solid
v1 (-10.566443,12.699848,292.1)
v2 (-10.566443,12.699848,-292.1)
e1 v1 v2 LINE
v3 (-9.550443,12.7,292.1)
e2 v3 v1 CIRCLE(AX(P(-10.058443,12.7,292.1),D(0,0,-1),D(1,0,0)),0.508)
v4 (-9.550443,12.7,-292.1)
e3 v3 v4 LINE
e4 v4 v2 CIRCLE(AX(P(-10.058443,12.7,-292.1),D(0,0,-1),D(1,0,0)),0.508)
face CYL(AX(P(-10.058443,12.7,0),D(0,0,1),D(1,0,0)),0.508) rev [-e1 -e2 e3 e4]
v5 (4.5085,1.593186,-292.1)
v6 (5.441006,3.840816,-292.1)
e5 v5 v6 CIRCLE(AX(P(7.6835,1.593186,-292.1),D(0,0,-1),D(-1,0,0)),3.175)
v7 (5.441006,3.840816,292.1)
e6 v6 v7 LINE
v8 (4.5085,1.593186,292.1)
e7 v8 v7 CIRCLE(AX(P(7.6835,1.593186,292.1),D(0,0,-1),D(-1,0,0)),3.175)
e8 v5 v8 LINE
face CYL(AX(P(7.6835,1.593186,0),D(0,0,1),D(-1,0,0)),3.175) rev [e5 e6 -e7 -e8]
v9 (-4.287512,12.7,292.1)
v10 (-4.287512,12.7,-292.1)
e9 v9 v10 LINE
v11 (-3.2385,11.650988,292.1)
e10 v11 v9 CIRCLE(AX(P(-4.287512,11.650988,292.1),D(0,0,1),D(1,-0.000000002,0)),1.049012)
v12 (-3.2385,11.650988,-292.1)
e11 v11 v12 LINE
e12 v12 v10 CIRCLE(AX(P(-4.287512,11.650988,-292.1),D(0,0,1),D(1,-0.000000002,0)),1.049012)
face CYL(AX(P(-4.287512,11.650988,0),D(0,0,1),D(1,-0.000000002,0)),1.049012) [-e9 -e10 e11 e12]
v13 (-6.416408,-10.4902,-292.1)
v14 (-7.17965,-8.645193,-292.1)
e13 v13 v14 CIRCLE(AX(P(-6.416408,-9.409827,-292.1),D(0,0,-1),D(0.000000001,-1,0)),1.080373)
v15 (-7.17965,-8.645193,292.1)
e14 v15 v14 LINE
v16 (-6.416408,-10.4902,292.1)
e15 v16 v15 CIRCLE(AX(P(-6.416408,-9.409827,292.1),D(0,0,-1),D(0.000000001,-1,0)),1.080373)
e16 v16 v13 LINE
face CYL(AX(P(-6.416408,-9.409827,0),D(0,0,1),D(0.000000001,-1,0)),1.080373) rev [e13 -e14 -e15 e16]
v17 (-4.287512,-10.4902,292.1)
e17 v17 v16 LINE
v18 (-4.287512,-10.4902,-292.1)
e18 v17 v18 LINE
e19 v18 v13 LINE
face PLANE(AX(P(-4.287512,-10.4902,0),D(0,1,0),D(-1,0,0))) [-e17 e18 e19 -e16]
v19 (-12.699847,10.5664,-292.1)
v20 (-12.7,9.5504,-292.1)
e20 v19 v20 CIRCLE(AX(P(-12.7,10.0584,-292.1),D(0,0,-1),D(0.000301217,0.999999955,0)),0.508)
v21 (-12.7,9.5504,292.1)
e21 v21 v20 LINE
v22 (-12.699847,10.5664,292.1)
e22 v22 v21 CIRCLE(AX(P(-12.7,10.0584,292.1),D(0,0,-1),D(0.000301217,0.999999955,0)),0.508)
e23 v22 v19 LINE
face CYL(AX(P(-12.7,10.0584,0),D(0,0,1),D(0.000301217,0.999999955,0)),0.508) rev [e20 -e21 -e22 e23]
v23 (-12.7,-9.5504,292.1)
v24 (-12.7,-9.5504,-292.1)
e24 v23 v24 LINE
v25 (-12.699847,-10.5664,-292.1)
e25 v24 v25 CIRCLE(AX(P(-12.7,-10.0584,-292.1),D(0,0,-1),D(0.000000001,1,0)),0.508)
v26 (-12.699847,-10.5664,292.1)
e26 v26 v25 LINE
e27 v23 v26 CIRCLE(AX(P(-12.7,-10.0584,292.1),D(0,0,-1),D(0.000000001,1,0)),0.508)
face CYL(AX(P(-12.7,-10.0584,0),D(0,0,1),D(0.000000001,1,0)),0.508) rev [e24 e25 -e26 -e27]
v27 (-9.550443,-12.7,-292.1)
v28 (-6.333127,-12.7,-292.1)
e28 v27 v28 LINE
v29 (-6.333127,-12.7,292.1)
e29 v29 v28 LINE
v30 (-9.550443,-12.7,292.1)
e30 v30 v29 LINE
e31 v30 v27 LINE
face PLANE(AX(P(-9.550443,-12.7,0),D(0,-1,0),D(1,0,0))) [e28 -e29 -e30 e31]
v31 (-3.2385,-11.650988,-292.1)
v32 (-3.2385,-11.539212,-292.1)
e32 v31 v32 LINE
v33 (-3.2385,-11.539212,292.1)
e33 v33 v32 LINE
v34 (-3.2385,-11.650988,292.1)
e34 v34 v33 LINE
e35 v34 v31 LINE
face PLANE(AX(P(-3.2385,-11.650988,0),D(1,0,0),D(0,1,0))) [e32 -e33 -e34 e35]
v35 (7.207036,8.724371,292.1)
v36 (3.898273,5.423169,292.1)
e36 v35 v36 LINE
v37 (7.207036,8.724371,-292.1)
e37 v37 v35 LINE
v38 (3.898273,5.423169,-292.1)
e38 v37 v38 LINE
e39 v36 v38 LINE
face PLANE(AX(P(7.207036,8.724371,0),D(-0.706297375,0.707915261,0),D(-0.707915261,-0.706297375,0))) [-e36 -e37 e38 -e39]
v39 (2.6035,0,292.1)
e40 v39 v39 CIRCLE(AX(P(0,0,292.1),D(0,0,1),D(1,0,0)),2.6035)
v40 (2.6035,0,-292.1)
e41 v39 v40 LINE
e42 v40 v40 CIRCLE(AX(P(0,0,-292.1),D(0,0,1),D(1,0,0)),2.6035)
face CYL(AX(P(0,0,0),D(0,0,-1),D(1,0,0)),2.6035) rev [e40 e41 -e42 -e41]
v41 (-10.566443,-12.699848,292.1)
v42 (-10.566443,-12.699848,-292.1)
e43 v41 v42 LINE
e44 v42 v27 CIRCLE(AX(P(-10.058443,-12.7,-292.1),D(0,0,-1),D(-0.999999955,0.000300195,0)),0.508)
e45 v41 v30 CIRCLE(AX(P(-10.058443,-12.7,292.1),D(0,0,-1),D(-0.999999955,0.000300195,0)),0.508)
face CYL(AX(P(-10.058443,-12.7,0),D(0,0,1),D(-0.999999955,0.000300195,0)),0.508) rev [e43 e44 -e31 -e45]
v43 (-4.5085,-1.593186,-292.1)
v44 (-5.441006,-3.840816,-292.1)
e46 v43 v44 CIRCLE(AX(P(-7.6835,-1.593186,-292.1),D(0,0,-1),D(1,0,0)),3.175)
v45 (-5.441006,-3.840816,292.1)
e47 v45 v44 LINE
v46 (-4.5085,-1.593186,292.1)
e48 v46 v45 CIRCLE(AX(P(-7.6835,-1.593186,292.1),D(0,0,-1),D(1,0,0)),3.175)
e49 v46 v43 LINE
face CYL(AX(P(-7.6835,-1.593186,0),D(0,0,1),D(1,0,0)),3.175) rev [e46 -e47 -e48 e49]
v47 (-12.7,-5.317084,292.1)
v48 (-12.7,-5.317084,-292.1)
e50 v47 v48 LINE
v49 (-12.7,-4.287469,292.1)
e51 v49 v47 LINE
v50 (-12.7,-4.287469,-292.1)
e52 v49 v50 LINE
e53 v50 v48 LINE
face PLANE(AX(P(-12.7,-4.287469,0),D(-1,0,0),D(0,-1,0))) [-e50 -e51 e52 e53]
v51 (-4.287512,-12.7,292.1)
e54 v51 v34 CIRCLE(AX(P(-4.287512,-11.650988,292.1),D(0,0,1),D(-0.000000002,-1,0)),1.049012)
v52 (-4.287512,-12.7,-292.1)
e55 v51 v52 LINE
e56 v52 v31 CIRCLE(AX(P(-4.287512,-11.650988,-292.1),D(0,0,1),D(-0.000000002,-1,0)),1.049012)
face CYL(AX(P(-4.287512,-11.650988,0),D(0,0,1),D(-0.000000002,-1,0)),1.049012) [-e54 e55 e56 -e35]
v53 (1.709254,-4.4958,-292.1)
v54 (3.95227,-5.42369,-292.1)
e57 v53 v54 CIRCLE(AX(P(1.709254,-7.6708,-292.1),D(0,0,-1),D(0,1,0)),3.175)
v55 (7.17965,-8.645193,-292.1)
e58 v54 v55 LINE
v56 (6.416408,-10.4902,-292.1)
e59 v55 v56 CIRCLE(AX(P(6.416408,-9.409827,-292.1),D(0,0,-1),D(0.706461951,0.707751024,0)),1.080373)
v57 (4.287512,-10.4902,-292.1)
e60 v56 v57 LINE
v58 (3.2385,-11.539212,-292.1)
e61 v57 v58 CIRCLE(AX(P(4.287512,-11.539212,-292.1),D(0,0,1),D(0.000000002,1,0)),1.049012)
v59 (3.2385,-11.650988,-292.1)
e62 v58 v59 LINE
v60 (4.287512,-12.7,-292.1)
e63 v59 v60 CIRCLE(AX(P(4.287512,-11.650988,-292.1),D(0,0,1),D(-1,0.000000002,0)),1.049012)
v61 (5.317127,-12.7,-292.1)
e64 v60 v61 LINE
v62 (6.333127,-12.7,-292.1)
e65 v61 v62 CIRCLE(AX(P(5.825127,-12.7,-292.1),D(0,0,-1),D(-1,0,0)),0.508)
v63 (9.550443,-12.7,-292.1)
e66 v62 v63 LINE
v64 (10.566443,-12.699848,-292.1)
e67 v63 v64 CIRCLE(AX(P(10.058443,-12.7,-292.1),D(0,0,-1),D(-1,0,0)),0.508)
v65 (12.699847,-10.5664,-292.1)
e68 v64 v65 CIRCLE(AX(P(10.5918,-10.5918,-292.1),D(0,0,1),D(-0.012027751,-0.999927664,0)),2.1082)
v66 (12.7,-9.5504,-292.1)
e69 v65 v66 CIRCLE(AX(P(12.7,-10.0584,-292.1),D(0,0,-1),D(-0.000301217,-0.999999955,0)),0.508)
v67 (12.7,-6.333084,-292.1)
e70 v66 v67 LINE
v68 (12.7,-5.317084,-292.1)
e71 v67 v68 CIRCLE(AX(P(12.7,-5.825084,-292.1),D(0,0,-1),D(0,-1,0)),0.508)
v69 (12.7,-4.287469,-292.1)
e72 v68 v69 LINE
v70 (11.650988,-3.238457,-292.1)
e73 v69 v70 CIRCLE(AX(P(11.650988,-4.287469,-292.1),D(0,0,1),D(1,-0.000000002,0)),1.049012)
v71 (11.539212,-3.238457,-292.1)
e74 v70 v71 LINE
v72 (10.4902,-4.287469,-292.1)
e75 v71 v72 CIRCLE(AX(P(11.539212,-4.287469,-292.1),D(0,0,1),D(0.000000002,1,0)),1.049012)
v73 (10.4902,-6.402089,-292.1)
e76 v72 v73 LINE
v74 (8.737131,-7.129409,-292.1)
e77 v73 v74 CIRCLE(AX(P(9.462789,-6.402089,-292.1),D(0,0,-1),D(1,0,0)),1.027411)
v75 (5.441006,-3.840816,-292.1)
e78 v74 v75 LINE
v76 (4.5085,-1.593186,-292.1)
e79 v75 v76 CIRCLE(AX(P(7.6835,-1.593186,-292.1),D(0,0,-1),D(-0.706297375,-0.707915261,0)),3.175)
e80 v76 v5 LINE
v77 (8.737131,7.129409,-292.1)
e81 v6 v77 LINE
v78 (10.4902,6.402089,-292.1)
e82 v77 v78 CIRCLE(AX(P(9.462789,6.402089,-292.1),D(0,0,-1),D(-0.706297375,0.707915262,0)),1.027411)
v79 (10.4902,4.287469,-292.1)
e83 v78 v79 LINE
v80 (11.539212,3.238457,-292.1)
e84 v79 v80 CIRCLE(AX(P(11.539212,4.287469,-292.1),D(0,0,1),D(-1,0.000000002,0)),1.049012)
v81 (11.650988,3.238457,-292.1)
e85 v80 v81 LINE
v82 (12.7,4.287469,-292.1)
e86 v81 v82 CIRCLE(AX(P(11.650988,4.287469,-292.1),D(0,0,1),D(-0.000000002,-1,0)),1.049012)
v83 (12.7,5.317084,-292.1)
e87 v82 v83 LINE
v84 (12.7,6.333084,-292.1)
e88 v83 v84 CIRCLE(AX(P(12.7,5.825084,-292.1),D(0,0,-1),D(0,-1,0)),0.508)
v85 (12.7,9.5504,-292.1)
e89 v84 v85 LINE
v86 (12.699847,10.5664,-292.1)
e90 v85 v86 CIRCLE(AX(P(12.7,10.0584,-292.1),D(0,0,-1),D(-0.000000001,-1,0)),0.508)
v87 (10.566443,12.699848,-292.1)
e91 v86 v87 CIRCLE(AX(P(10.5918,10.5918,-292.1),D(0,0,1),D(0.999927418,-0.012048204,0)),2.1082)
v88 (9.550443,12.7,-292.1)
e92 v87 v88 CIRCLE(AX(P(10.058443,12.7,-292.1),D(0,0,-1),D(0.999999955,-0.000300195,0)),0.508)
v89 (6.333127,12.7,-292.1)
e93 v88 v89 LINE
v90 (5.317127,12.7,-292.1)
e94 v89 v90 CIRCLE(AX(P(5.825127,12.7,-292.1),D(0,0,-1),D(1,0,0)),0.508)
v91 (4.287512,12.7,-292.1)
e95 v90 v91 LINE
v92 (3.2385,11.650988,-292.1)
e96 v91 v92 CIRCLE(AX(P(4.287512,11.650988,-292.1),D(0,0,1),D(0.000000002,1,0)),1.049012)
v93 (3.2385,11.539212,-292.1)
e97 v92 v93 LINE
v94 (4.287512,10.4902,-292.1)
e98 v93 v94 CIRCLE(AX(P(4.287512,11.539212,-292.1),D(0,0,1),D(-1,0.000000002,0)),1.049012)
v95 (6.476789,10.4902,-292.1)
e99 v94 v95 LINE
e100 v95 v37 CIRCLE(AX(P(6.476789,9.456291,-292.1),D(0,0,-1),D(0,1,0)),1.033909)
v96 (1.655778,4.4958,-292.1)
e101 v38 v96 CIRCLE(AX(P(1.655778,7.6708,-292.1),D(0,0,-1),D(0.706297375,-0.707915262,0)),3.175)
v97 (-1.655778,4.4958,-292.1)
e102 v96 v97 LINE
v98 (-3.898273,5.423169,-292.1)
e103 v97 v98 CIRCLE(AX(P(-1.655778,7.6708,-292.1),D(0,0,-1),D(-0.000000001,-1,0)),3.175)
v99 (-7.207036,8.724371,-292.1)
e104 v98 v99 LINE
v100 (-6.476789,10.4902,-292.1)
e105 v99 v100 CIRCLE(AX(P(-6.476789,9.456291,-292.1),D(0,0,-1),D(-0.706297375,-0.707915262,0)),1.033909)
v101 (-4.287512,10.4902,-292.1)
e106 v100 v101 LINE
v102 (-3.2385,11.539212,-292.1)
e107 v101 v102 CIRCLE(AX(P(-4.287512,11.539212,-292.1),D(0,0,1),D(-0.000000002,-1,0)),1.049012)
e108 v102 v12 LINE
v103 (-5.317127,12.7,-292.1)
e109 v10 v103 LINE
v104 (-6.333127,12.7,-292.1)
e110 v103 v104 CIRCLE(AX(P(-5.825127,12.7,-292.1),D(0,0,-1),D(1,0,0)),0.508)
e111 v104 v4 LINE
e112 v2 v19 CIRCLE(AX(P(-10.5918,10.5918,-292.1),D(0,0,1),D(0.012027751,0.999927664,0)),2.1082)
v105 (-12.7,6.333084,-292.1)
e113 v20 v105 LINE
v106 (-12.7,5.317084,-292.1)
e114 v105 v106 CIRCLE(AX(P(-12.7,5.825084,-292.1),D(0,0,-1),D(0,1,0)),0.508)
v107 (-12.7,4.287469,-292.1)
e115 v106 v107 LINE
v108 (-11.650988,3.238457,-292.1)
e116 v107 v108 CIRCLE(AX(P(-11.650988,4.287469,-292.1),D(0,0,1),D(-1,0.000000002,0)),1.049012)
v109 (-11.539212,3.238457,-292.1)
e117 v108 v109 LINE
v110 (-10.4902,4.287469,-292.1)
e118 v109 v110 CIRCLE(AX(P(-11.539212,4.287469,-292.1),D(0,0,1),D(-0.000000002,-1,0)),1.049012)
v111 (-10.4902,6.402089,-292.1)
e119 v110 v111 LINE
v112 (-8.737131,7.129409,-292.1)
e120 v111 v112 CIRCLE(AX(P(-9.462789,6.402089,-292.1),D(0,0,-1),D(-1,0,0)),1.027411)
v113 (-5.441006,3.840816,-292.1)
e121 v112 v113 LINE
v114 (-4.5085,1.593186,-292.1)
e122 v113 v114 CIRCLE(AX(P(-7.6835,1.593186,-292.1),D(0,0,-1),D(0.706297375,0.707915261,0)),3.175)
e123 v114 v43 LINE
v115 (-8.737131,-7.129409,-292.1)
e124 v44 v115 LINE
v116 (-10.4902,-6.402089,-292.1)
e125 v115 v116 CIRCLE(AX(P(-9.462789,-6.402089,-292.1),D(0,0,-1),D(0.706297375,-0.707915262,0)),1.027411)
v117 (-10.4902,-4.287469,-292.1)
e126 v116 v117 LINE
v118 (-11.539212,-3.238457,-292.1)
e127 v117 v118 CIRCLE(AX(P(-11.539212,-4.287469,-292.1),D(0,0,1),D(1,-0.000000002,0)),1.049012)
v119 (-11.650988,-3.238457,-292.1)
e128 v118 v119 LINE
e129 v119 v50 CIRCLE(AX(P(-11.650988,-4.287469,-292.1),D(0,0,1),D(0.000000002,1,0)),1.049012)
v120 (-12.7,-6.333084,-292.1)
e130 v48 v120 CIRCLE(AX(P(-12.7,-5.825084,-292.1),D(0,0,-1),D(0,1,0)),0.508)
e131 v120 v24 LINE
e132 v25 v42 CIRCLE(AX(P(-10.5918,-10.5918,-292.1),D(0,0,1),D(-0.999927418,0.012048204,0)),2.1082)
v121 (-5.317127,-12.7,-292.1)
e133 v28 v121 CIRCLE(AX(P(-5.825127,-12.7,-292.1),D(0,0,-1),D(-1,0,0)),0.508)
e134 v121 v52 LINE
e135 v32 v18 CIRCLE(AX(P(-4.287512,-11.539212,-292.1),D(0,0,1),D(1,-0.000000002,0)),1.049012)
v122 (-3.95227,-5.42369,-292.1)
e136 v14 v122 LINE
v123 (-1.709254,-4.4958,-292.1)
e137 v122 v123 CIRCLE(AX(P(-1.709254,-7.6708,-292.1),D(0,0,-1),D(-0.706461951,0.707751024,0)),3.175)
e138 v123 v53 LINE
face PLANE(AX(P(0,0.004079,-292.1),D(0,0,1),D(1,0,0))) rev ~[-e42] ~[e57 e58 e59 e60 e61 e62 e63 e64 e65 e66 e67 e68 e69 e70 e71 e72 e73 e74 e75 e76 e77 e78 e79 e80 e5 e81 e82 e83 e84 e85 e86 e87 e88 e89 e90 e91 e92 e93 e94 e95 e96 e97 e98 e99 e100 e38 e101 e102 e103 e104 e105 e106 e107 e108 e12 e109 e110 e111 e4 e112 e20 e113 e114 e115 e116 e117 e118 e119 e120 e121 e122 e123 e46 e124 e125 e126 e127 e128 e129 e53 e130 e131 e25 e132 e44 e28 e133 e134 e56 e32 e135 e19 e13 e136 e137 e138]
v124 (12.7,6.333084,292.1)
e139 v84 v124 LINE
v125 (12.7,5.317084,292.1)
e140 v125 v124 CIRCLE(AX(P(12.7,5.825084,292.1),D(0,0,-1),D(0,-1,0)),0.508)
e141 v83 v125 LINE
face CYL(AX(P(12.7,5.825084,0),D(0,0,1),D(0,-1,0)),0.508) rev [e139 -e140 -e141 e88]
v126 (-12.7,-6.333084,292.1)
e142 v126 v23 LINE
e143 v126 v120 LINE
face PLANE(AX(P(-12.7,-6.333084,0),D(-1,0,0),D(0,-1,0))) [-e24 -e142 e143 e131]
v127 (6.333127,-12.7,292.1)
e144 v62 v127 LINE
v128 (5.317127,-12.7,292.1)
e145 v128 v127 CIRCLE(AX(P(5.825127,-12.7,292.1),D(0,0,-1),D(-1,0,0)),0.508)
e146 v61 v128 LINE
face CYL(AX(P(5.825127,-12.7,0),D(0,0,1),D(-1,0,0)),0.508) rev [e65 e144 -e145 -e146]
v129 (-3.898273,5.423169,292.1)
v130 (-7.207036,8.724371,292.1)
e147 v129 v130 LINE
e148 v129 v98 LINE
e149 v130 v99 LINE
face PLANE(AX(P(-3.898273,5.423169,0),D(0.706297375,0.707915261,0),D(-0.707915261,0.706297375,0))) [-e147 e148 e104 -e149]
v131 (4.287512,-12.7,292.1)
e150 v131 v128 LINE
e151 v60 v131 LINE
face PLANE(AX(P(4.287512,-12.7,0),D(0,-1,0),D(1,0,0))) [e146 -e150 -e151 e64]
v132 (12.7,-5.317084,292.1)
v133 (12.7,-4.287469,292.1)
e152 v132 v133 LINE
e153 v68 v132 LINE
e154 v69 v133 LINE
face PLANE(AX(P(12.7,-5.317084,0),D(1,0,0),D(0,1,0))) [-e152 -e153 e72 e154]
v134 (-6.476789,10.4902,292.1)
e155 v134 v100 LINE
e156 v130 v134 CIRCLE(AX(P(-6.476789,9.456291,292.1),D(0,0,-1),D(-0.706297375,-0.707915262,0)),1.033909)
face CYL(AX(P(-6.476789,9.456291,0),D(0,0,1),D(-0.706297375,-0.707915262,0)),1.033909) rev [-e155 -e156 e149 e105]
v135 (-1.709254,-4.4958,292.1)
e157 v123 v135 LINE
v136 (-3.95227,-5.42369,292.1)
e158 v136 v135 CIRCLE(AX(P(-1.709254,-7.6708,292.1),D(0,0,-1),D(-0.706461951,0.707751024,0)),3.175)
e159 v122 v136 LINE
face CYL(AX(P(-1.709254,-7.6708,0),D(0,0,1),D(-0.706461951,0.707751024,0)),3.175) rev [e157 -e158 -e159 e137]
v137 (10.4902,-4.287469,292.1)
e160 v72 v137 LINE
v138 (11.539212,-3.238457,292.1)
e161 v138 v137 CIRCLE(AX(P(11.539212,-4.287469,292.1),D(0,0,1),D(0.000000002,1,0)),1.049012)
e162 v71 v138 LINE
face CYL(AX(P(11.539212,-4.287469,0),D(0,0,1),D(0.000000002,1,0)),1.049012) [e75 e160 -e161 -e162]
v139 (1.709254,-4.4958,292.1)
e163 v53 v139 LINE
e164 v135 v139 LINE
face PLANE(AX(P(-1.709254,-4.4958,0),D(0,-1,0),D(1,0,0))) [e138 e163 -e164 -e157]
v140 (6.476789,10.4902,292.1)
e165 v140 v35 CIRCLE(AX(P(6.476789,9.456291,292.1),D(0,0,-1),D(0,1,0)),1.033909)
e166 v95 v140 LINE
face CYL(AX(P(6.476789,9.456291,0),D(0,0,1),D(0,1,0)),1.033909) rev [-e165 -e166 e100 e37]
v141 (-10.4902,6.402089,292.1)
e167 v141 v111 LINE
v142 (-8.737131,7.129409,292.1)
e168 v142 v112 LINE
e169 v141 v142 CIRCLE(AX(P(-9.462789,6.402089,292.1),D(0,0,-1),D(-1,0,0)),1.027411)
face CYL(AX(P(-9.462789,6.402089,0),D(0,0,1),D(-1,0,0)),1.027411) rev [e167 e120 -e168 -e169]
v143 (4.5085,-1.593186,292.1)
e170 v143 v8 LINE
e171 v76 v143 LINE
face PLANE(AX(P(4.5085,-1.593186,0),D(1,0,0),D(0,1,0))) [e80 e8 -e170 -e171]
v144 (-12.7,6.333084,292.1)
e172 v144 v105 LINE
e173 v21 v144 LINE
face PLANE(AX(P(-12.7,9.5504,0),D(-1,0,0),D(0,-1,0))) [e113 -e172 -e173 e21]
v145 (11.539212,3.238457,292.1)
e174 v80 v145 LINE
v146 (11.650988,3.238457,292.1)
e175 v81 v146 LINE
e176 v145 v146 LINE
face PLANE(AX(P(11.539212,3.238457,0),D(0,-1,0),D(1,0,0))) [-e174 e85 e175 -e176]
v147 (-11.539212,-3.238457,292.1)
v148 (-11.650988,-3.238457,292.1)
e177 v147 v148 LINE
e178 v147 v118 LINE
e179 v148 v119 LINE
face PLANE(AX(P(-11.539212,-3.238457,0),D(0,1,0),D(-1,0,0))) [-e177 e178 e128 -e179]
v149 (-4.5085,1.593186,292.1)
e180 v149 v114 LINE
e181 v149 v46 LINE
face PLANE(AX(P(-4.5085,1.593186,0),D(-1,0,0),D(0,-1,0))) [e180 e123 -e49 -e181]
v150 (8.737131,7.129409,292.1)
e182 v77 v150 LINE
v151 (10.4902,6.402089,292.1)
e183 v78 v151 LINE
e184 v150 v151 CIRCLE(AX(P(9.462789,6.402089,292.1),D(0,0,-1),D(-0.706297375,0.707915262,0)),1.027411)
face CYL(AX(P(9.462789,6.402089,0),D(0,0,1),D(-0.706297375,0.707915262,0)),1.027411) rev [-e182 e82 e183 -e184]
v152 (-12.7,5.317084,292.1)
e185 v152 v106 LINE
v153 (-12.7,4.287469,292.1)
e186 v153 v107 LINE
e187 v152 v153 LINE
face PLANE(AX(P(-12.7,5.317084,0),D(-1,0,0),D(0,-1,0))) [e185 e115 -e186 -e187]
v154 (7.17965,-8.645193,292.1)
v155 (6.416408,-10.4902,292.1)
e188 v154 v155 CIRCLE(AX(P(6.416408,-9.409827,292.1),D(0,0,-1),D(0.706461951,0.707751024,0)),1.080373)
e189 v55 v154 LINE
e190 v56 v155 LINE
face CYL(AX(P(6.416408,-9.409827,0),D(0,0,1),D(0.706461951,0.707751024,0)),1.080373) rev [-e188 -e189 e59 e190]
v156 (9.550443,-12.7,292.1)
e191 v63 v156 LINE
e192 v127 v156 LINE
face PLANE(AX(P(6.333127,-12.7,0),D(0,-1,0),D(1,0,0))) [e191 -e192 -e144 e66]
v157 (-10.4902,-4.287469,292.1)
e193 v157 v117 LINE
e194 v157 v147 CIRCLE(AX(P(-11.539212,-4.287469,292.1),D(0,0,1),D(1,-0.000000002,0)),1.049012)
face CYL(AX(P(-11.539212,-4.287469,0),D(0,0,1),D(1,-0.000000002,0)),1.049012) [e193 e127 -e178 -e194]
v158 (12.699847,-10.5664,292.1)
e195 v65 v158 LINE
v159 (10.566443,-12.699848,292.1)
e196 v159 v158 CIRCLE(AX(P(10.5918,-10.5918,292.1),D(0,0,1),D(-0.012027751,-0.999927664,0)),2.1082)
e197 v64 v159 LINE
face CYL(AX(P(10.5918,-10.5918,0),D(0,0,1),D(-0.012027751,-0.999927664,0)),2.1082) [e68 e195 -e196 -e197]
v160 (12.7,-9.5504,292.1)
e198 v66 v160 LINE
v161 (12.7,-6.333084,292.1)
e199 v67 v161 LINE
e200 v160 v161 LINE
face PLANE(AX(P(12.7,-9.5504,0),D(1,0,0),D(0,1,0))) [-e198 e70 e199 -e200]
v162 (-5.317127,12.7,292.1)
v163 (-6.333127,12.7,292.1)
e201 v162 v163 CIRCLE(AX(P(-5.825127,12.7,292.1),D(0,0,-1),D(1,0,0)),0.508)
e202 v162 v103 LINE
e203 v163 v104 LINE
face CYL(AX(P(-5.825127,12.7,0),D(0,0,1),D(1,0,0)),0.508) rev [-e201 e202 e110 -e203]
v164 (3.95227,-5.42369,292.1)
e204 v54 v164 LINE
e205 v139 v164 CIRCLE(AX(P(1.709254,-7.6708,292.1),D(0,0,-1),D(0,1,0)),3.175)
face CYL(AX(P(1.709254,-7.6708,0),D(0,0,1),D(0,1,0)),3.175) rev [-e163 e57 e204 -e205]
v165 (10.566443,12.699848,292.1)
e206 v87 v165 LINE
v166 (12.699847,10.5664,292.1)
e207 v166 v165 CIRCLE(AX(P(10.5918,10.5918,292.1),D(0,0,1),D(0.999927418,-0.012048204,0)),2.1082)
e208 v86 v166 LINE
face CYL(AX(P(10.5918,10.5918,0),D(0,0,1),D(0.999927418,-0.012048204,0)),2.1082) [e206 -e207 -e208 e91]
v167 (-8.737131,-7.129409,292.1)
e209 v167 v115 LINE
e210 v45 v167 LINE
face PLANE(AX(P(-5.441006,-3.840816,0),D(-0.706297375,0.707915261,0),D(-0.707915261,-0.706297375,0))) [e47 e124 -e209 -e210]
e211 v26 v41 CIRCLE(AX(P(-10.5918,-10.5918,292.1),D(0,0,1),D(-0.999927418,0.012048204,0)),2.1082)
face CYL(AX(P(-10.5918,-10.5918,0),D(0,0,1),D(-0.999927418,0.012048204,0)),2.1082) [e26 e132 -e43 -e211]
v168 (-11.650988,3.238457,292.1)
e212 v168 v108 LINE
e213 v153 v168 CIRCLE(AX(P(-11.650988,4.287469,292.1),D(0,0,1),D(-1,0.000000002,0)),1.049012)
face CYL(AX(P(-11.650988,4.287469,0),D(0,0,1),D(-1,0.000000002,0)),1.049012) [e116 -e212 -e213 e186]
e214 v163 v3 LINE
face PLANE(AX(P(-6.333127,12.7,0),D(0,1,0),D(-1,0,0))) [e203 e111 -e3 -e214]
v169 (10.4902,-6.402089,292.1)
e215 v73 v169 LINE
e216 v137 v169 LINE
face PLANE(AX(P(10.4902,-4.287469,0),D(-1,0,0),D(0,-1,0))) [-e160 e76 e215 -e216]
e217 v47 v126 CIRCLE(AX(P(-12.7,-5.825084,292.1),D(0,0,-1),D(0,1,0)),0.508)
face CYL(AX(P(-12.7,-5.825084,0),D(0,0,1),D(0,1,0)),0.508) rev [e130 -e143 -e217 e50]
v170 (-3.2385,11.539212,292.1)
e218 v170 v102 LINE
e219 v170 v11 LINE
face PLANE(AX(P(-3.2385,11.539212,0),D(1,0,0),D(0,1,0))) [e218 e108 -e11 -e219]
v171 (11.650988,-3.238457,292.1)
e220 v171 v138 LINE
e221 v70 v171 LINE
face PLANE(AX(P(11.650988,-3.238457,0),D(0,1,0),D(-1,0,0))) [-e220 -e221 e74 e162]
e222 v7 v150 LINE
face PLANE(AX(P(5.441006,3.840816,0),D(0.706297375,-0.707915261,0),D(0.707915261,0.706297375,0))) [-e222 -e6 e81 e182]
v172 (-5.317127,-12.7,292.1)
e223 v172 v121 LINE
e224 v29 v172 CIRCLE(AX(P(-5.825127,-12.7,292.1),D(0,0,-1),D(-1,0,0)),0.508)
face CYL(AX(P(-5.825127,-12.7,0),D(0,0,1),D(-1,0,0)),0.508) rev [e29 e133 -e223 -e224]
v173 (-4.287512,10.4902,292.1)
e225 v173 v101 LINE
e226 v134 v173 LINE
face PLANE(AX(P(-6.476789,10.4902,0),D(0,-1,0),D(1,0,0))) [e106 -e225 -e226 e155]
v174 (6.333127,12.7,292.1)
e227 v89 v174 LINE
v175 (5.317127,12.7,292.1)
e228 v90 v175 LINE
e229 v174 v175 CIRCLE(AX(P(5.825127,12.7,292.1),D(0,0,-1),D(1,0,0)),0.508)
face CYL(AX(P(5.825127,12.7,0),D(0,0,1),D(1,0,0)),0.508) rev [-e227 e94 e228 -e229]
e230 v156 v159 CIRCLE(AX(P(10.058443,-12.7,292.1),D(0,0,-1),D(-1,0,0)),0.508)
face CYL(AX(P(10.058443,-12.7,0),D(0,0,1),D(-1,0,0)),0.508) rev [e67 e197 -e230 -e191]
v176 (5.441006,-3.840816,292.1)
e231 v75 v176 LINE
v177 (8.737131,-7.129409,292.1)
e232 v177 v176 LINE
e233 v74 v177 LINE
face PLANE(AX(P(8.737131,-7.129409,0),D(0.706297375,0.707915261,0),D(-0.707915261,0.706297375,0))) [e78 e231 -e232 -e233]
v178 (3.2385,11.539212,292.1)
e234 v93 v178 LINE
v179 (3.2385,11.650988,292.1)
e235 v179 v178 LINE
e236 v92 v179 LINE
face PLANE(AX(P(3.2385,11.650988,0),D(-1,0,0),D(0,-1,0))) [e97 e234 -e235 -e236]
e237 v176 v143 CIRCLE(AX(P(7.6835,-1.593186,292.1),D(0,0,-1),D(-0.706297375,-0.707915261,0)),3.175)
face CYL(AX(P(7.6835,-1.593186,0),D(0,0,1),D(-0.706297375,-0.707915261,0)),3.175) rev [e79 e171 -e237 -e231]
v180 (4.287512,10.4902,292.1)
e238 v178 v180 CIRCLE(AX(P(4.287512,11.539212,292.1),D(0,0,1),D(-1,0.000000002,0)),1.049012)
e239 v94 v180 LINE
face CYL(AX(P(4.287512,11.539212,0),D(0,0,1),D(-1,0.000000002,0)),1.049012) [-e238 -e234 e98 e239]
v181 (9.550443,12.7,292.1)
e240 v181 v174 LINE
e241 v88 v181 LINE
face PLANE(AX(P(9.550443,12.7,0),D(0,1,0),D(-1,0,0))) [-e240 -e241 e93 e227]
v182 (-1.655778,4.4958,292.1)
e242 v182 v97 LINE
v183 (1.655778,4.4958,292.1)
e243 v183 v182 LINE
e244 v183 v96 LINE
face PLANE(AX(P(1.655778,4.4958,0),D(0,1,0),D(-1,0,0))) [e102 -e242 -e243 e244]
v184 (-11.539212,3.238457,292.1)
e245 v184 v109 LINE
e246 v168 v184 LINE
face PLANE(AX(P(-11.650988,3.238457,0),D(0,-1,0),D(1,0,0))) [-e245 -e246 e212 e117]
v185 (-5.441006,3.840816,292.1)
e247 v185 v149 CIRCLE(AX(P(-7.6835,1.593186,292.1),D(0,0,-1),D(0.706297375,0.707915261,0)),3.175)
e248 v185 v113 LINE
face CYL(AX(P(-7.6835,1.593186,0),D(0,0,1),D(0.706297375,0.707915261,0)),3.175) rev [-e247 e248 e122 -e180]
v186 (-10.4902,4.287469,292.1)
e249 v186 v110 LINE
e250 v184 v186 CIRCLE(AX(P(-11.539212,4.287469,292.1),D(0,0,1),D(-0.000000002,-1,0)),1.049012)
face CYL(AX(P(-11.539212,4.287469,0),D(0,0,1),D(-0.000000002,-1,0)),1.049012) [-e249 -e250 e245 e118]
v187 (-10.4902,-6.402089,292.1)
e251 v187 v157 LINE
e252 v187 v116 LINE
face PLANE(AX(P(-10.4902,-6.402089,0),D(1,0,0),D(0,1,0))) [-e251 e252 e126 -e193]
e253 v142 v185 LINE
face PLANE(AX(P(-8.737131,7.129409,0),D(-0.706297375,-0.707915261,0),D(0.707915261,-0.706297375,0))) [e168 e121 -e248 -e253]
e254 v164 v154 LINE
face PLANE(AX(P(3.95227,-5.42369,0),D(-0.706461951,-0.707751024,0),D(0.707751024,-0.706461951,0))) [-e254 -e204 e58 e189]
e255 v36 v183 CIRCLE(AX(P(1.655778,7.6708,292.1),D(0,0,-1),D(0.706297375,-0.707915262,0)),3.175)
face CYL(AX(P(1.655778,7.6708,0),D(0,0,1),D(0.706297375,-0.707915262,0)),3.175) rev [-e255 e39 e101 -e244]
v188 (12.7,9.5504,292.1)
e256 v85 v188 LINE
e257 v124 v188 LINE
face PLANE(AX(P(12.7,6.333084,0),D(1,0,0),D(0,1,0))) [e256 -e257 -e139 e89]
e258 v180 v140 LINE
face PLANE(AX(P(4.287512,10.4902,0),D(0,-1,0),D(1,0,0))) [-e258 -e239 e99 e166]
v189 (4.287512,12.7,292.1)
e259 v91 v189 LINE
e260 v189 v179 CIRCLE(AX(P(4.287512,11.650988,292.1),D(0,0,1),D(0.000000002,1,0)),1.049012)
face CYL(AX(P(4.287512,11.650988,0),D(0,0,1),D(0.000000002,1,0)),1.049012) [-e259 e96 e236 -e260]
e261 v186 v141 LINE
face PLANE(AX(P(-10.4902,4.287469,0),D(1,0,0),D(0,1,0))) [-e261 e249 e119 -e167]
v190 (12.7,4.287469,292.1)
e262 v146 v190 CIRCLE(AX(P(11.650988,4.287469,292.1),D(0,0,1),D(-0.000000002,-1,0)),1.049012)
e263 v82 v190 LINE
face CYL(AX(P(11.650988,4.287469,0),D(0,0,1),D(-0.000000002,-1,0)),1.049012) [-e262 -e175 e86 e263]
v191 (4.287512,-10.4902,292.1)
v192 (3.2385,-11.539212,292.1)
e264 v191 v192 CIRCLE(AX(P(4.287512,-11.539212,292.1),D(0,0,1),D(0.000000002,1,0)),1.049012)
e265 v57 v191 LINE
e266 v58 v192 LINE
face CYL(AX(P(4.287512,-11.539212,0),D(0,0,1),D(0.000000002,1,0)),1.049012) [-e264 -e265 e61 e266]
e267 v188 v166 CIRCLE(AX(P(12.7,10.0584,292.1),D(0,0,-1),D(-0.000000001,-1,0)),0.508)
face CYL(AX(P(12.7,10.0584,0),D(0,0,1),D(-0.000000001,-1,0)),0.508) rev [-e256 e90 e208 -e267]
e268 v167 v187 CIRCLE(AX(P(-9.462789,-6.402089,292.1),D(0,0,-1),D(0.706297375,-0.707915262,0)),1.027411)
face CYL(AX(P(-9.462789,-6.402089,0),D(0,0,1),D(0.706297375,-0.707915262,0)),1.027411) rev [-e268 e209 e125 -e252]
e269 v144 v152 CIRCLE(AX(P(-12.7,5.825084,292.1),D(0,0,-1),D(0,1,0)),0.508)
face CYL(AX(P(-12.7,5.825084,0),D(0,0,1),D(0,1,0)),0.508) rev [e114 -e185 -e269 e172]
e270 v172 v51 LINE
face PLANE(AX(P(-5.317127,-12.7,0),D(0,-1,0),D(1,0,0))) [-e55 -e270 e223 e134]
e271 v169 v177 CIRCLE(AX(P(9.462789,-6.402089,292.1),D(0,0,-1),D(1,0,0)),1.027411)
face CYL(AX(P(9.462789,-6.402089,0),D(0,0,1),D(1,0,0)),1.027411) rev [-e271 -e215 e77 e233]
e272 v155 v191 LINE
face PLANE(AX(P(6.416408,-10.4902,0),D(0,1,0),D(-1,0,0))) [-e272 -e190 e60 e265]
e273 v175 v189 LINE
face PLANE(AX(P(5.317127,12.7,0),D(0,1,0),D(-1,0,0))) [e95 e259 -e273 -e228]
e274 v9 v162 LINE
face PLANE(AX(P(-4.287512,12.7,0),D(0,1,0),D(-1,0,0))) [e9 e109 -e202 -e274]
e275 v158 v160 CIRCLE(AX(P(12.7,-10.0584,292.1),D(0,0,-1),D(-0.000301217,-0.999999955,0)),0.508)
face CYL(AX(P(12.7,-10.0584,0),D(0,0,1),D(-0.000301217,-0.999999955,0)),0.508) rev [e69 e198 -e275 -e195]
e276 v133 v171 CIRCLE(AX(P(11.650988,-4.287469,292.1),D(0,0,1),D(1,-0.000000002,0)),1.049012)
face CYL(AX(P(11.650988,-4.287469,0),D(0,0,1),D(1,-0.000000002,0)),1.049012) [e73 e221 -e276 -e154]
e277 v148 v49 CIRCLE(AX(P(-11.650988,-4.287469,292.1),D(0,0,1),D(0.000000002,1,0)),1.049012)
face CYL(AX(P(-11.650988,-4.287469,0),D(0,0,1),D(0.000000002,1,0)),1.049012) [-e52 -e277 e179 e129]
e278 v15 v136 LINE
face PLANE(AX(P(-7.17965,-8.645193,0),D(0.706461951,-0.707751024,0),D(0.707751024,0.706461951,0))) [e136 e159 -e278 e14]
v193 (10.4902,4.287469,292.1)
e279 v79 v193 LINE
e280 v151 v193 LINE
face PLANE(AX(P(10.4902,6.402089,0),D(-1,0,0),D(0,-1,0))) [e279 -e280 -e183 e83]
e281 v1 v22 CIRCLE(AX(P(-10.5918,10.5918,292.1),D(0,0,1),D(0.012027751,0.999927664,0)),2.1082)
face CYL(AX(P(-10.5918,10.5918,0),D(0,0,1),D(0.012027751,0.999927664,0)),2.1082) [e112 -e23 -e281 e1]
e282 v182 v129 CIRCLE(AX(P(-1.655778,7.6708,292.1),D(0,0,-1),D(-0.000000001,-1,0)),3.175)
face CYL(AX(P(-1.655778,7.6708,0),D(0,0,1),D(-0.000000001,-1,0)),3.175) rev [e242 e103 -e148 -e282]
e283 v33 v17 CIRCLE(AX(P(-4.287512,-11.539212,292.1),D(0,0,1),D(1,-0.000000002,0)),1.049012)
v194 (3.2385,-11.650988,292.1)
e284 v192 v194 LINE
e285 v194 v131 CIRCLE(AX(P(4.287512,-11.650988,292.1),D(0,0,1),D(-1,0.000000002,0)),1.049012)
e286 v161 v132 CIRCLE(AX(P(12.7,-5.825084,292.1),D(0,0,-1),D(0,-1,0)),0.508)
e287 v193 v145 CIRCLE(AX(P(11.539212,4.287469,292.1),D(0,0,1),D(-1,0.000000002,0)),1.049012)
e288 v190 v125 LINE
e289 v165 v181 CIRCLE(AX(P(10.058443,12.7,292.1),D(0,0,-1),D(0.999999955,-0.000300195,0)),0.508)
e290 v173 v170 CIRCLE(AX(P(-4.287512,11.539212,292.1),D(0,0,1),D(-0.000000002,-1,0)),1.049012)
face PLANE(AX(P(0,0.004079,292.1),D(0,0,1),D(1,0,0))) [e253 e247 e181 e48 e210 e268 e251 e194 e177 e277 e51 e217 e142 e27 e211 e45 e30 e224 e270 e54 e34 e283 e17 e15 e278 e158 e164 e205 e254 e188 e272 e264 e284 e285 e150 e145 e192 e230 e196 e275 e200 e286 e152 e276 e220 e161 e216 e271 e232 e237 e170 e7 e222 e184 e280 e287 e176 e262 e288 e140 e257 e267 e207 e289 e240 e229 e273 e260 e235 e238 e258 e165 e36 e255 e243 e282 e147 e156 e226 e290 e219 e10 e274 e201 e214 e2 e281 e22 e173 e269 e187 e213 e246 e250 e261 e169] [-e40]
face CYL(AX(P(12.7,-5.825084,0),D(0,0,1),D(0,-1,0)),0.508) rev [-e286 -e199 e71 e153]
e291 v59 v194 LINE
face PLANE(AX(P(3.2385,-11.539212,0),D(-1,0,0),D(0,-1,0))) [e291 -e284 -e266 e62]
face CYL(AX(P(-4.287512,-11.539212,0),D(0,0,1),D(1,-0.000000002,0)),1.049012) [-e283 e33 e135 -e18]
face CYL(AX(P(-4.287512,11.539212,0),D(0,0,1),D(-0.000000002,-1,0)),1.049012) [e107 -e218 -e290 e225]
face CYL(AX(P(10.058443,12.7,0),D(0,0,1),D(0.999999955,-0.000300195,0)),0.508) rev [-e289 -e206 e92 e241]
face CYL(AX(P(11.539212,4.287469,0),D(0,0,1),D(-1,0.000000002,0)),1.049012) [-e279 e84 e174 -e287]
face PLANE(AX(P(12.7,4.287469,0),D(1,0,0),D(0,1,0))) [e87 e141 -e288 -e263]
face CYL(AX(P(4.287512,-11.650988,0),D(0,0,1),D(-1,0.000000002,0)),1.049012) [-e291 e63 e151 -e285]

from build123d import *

# Parameters (mm, degrees)
SKETCH1_R           = 2.6035
BOSS_EXTRUDE1_DEPTH = 292.1


with BuildPart() as part:
    # Sketch1 → Boss-Extrude1 (new, symmetric)
    with BuildSketch(Plane.XY):
        with BuildLine():
            Line((-7.179650497, -8.645192506), (-3.952270251, -5.423690499))
            ThreePointArc((-3.952270251, -5.423690499), (-2.922936451, -4.736929036), (-1.709253557, -4.4958))
            Line((-1.709253557, -4.4958), (1.709253557, -4.4958))
            ThreePointArc((1.709253557, -4.4958), (2.922936451, -4.736929036), (3.952270251, -5.423690499))
            Line((3.952270251, -5.423690499), (7.179650497, -8.645192506))
            ThreePointArc((7.179650497, -8.645192506), (7.41473083, -9.822813117), (6.416408329, -10.4902))
            Line((6.416408329, -10.4902), (4.287512407, -10.4902))
            ThreePointArc((4.287512407, -10.4902), (3.54574862, -10.79744862), (3.2385, -11.539212407))
            Line((3.2385, -11.539212407), (3.2385, -11.650987593))
            ThreePointArc((3.2385, -11.650987593), (3.54574862, -12.39275138), (4.287512407, -12.7))
            Line((4.287512407, -12.7), (5.317126718, -12.7))
            ThreePointArc((5.317126718, -12.7), (5.825126718, -12.192), (6.333126718, -12.7))
            Line((6.333126718, -12.7), (9.550443118, -12.7))
            ThreePointArc((9.550443118, -12.7), (10.058366869, -12.192000006), (10.566443095, -12.699847501))
            ThreePointArc((10.566443095, -12.699847501), (12.082537762, -12.08250727), (12.699846982, -10.566399977))
            ThreePointArc((12.699846982, -10.566399977), (12.192000006, -10.058323491), (12.7, -9.5504))
            Line((12.7, -9.5504), (12.7, -6.3330836))
            ThreePointArc((12.7, -6.3330836), (12.192, -5.8250836), (12.7, -5.3170836))
            Line((12.7, -5.3170836), (12.7, -4.287469289))
            ThreePointArc((12.7, -4.287469289), (12.39275138, -3.545705502), (11.650987593, -3.238456882))
            Line((11.650987593, -3.238456882), (11.539212407, -3.238456882))
            ThreePointArc((11.539212407, -3.238456882), (10.79744862, -3.545705502), (10.4902, -4.287469289))
            Line((10.4902, -4.287469289), (10.4902, -6.402089023))
            ThreePointArc((10.4902, -6.402089023), (9.856505071, -7.351067942), (8.737131347, -7.129408934))
            Line((8.737131347, -7.129408934), (5.441005833, -3.840816462))
            ThreePointArc((5.441005833, -3.840816462), (4.750877967, -2.809883091), (4.5085, -1.593185507))
            Line((4.5085, -1.593185507), (4.5085, 1.593185507))
            ThreePointArc((4.5085, 1.593185507), (4.750877967, 2.809883091), (5.441005833, 3.840816462))
            Line((5.441005833, 3.840816462), (8.737131347, 7.129408934))
            ThreePointArc((8.737131347, 7.129408934), (9.856505071, 7.351067942), (10.4902, 6.402089023))
            Line((10.4902, 6.402089023), (10.4902, 4.287469289))
            ThreePointArc((10.4902, 4.287469289), (10.79744862, 3.545705502), (11.539212407, 3.238456882))
            Line((11.539212407, 3.238456882), (11.650987593, 3.238456882))
            ThreePointArc((11.650987593, 3.238456882), (12.39275138, 3.545705502), (12.7, 4.287469289))
            Line((12.7, 4.287469289), (12.7, 5.3170836))
            ThreePointArc((12.7, 5.3170836), (12.192, 5.8250836), (12.7, 6.3330836))
            Line((12.7, 6.3330836), (12.7, 9.5504))
            ThreePointArc((12.7, 9.5504), (12.192000006, 10.058323491), (12.699846982, 10.566399977))
            ThreePointArc((12.699846982, 10.566399977), (12.082537762, 12.08250727), (10.566443095, 12.699847501))
            ThreePointArc((10.566443095, 12.699847501), (10.058366869, 12.192000006), (9.550443118, 12.7))
            Line((9.550443118, 12.7), (6.333126718, 12.7))
            ThreePointArc((6.333126718, 12.7), (5.825126718, 12.192), (5.317126718, 12.7))
            Line((5.317126718, 12.7), (4.287512407, 12.7))
            ThreePointArc((4.287512407, 12.7), (3.54574862, 12.39275138), (3.2385, 11.650987593))
            Line((3.2385, 11.650987593), (3.2385, 11.539212407))
            ThreePointArc((3.2385, 11.539212407), (3.54574862, 10.79744862), (4.287512407, 10.4902))
            Line((4.287512407, 10.4902), (6.476788598, 10.4902))
            ThreePointArc((6.476788598, 10.4902), (7.432222385, 9.85140422), (7.207036008, 8.724370562))
            Line((7.207036008, 8.724370562), (3.898272566, 5.423169045))
            ThreePointArc((3.898272566, 5.423169045), (2.869120213, 4.736787962), (1.655778399, 4.4958))
            Line((1.655778399, 4.4958), (-1.655778399, 4.4958))
            ThreePointArc((-1.655778399, 4.4958), (-2.869120213, 4.736787962), (-3.898272566, 5.423169045))
            Line((-3.898272566, 5.423169045), (-7.207036008, 8.724370562))
            ThreePointArc((-7.207036008, 8.724370562), (-7.432222385, 9.85140422), (-6.476788598, 10.4902))
            Line((-6.476788598, 10.4902), (-4.287512407, 10.4902))
            ThreePointArc((-4.287512407, 10.4902), (-3.54574862, 10.79744862), (-3.2385, 11.539212407))
            Line((-3.2385, 11.539212407), (-3.2385, 11.650987593))
            ThreePointArc((-3.2385, 11.650987593), (-3.54574862, 12.39275138), (-4.287512407, 12.7))
            Line((-4.287512407, 12.7), (-5.317126718, 12.7))
            ThreePointArc((-5.317126718, 12.7), (-5.825126718, 12.192), (-6.333126718, 12.7))
            Line((-6.333126718, 12.7), (-9.550443118, 12.7))
            ThreePointArc((-9.550443118, 12.7), (-10.058366869, 12.192000006), (-10.566443095, 12.699847501))
            ThreePointArc((-10.566443095, 12.699847501), (-12.082537762, 12.08250727), (-12.699846982, 10.566399977))
            ThreePointArc((-12.699846982, 10.566399977), (-12.192000006, 10.058323491), (-12.7, 9.5504))
            Line((-12.7, 9.5504), (-12.7, 6.3330836))
            ThreePointArc((-12.7, 6.3330836), (-12.192, 5.8250836), (-12.7, 5.3170836))
            Line((-12.7, 5.3170836), (-12.7, 4.287469289))
            ThreePointArc((-12.7, 4.287469289), (-12.39275138, 3.545705502), (-11.650987593, 3.238456882))
            Line((-11.650987593, 3.238456882), (-11.539212407, 3.238456882))
            ThreePointArc((-11.539212407, 3.238456882), (-10.79744862, 3.545705502), (-10.4902, 4.287469289))
            Line((-10.4902, 4.287469289), (-10.4902, 6.402089023))
            ThreePointArc((-10.4902, 6.402089023), (-9.856505071, 7.351067942), (-8.737131347, 7.129408934))
            Line((-8.737131347, 7.129408934), (-5.441005833, 3.840816462))
            ThreePointArc((-5.441005833, 3.840816462), (-4.750877967, 2.809883091), (-4.5085, 1.593185507))
            Line((-4.5085, 1.593185507), (-4.5085, -1.593185507))
            ThreePointArc((-4.5085, -1.593185507), (-4.750877967, -2.809883091), (-5.441005833, -3.840816462))
            Line((-5.441005833, -3.840816462), (-8.737131347, -7.129408934))
            ThreePointArc((-8.737131347, -7.129408934), (-9.856505071, -7.351067942), (-10.4902, -6.402089023))
            Line((-10.4902, -6.402089023), (-10.4902, -4.287469289))
            ThreePointArc((-10.4902, -4.287469289), (-10.79744862, -3.545705502), (-11.539212407, -3.238456882))
            Line((-11.539212407, -3.238456882), (-11.650987593, -3.238456882))
            ThreePointArc((-11.650987593, -3.238456882), (-12.39275138, -3.545705502), (-12.7, -4.287469289))
            Line((-12.7, -4.287469289), (-12.7, -5.3170836))
            ThreePointArc((-12.7, -5.3170836), (-12.192, -5.8250836), (-12.7, -6.3330836))
            Line((-12.7, -6.3330836), (-12.7, -9.5504))
            ThreePointArc((-12.7, -9.5504), (-12.192000006, -10.058323491), (-12.699846982, -10.566399977))
            ThreePointArc((-12.699846982, -10.566399977), (-12.082537762, -12.08250727), (-10.566443095, -12.699847501))
            ThreePointArc((-10.566443095, -12.699847501), (-10.058366869, -12.192000006), (-9.550443118, -12.7))
            Line((-9.550443118, -12.7), (-6.333126718, -12.7))
            ThreePointArc((-6.333126718, -12.7), (-5.825126718, -12.192), (-5.317126718, -12.7))
            Line((-5.317126718, -12.7), (-4.287512407, -12.7))
            ThreePointArc((-4.287512407, -12.7), (-3.54574862, -12.39275138), (-3.2385, -11.650987593))
            Line((-3.2385, -11.650987593), (-3.2385, -11.539212407))
            ThreePointArc((-3.2385, -11.539212407), (-3.54574862, -10.79744862), (-4.287512407, -10.4902))
            Line((-4.287512407, -10.4902), (-6.416408329, -10.4902))
            ThreePointArc((-6.416408329, -10.4902), (-7.41473083, -9.822813117), (-7.179650497, -8.645192506))
        make_face()
        Circle(SKETCH1_R, mode=Mode.SUBTRACT)
    extrude(amount=BOSS_EXTRUDE1_DEPTH, both=True)


solid = part.part
